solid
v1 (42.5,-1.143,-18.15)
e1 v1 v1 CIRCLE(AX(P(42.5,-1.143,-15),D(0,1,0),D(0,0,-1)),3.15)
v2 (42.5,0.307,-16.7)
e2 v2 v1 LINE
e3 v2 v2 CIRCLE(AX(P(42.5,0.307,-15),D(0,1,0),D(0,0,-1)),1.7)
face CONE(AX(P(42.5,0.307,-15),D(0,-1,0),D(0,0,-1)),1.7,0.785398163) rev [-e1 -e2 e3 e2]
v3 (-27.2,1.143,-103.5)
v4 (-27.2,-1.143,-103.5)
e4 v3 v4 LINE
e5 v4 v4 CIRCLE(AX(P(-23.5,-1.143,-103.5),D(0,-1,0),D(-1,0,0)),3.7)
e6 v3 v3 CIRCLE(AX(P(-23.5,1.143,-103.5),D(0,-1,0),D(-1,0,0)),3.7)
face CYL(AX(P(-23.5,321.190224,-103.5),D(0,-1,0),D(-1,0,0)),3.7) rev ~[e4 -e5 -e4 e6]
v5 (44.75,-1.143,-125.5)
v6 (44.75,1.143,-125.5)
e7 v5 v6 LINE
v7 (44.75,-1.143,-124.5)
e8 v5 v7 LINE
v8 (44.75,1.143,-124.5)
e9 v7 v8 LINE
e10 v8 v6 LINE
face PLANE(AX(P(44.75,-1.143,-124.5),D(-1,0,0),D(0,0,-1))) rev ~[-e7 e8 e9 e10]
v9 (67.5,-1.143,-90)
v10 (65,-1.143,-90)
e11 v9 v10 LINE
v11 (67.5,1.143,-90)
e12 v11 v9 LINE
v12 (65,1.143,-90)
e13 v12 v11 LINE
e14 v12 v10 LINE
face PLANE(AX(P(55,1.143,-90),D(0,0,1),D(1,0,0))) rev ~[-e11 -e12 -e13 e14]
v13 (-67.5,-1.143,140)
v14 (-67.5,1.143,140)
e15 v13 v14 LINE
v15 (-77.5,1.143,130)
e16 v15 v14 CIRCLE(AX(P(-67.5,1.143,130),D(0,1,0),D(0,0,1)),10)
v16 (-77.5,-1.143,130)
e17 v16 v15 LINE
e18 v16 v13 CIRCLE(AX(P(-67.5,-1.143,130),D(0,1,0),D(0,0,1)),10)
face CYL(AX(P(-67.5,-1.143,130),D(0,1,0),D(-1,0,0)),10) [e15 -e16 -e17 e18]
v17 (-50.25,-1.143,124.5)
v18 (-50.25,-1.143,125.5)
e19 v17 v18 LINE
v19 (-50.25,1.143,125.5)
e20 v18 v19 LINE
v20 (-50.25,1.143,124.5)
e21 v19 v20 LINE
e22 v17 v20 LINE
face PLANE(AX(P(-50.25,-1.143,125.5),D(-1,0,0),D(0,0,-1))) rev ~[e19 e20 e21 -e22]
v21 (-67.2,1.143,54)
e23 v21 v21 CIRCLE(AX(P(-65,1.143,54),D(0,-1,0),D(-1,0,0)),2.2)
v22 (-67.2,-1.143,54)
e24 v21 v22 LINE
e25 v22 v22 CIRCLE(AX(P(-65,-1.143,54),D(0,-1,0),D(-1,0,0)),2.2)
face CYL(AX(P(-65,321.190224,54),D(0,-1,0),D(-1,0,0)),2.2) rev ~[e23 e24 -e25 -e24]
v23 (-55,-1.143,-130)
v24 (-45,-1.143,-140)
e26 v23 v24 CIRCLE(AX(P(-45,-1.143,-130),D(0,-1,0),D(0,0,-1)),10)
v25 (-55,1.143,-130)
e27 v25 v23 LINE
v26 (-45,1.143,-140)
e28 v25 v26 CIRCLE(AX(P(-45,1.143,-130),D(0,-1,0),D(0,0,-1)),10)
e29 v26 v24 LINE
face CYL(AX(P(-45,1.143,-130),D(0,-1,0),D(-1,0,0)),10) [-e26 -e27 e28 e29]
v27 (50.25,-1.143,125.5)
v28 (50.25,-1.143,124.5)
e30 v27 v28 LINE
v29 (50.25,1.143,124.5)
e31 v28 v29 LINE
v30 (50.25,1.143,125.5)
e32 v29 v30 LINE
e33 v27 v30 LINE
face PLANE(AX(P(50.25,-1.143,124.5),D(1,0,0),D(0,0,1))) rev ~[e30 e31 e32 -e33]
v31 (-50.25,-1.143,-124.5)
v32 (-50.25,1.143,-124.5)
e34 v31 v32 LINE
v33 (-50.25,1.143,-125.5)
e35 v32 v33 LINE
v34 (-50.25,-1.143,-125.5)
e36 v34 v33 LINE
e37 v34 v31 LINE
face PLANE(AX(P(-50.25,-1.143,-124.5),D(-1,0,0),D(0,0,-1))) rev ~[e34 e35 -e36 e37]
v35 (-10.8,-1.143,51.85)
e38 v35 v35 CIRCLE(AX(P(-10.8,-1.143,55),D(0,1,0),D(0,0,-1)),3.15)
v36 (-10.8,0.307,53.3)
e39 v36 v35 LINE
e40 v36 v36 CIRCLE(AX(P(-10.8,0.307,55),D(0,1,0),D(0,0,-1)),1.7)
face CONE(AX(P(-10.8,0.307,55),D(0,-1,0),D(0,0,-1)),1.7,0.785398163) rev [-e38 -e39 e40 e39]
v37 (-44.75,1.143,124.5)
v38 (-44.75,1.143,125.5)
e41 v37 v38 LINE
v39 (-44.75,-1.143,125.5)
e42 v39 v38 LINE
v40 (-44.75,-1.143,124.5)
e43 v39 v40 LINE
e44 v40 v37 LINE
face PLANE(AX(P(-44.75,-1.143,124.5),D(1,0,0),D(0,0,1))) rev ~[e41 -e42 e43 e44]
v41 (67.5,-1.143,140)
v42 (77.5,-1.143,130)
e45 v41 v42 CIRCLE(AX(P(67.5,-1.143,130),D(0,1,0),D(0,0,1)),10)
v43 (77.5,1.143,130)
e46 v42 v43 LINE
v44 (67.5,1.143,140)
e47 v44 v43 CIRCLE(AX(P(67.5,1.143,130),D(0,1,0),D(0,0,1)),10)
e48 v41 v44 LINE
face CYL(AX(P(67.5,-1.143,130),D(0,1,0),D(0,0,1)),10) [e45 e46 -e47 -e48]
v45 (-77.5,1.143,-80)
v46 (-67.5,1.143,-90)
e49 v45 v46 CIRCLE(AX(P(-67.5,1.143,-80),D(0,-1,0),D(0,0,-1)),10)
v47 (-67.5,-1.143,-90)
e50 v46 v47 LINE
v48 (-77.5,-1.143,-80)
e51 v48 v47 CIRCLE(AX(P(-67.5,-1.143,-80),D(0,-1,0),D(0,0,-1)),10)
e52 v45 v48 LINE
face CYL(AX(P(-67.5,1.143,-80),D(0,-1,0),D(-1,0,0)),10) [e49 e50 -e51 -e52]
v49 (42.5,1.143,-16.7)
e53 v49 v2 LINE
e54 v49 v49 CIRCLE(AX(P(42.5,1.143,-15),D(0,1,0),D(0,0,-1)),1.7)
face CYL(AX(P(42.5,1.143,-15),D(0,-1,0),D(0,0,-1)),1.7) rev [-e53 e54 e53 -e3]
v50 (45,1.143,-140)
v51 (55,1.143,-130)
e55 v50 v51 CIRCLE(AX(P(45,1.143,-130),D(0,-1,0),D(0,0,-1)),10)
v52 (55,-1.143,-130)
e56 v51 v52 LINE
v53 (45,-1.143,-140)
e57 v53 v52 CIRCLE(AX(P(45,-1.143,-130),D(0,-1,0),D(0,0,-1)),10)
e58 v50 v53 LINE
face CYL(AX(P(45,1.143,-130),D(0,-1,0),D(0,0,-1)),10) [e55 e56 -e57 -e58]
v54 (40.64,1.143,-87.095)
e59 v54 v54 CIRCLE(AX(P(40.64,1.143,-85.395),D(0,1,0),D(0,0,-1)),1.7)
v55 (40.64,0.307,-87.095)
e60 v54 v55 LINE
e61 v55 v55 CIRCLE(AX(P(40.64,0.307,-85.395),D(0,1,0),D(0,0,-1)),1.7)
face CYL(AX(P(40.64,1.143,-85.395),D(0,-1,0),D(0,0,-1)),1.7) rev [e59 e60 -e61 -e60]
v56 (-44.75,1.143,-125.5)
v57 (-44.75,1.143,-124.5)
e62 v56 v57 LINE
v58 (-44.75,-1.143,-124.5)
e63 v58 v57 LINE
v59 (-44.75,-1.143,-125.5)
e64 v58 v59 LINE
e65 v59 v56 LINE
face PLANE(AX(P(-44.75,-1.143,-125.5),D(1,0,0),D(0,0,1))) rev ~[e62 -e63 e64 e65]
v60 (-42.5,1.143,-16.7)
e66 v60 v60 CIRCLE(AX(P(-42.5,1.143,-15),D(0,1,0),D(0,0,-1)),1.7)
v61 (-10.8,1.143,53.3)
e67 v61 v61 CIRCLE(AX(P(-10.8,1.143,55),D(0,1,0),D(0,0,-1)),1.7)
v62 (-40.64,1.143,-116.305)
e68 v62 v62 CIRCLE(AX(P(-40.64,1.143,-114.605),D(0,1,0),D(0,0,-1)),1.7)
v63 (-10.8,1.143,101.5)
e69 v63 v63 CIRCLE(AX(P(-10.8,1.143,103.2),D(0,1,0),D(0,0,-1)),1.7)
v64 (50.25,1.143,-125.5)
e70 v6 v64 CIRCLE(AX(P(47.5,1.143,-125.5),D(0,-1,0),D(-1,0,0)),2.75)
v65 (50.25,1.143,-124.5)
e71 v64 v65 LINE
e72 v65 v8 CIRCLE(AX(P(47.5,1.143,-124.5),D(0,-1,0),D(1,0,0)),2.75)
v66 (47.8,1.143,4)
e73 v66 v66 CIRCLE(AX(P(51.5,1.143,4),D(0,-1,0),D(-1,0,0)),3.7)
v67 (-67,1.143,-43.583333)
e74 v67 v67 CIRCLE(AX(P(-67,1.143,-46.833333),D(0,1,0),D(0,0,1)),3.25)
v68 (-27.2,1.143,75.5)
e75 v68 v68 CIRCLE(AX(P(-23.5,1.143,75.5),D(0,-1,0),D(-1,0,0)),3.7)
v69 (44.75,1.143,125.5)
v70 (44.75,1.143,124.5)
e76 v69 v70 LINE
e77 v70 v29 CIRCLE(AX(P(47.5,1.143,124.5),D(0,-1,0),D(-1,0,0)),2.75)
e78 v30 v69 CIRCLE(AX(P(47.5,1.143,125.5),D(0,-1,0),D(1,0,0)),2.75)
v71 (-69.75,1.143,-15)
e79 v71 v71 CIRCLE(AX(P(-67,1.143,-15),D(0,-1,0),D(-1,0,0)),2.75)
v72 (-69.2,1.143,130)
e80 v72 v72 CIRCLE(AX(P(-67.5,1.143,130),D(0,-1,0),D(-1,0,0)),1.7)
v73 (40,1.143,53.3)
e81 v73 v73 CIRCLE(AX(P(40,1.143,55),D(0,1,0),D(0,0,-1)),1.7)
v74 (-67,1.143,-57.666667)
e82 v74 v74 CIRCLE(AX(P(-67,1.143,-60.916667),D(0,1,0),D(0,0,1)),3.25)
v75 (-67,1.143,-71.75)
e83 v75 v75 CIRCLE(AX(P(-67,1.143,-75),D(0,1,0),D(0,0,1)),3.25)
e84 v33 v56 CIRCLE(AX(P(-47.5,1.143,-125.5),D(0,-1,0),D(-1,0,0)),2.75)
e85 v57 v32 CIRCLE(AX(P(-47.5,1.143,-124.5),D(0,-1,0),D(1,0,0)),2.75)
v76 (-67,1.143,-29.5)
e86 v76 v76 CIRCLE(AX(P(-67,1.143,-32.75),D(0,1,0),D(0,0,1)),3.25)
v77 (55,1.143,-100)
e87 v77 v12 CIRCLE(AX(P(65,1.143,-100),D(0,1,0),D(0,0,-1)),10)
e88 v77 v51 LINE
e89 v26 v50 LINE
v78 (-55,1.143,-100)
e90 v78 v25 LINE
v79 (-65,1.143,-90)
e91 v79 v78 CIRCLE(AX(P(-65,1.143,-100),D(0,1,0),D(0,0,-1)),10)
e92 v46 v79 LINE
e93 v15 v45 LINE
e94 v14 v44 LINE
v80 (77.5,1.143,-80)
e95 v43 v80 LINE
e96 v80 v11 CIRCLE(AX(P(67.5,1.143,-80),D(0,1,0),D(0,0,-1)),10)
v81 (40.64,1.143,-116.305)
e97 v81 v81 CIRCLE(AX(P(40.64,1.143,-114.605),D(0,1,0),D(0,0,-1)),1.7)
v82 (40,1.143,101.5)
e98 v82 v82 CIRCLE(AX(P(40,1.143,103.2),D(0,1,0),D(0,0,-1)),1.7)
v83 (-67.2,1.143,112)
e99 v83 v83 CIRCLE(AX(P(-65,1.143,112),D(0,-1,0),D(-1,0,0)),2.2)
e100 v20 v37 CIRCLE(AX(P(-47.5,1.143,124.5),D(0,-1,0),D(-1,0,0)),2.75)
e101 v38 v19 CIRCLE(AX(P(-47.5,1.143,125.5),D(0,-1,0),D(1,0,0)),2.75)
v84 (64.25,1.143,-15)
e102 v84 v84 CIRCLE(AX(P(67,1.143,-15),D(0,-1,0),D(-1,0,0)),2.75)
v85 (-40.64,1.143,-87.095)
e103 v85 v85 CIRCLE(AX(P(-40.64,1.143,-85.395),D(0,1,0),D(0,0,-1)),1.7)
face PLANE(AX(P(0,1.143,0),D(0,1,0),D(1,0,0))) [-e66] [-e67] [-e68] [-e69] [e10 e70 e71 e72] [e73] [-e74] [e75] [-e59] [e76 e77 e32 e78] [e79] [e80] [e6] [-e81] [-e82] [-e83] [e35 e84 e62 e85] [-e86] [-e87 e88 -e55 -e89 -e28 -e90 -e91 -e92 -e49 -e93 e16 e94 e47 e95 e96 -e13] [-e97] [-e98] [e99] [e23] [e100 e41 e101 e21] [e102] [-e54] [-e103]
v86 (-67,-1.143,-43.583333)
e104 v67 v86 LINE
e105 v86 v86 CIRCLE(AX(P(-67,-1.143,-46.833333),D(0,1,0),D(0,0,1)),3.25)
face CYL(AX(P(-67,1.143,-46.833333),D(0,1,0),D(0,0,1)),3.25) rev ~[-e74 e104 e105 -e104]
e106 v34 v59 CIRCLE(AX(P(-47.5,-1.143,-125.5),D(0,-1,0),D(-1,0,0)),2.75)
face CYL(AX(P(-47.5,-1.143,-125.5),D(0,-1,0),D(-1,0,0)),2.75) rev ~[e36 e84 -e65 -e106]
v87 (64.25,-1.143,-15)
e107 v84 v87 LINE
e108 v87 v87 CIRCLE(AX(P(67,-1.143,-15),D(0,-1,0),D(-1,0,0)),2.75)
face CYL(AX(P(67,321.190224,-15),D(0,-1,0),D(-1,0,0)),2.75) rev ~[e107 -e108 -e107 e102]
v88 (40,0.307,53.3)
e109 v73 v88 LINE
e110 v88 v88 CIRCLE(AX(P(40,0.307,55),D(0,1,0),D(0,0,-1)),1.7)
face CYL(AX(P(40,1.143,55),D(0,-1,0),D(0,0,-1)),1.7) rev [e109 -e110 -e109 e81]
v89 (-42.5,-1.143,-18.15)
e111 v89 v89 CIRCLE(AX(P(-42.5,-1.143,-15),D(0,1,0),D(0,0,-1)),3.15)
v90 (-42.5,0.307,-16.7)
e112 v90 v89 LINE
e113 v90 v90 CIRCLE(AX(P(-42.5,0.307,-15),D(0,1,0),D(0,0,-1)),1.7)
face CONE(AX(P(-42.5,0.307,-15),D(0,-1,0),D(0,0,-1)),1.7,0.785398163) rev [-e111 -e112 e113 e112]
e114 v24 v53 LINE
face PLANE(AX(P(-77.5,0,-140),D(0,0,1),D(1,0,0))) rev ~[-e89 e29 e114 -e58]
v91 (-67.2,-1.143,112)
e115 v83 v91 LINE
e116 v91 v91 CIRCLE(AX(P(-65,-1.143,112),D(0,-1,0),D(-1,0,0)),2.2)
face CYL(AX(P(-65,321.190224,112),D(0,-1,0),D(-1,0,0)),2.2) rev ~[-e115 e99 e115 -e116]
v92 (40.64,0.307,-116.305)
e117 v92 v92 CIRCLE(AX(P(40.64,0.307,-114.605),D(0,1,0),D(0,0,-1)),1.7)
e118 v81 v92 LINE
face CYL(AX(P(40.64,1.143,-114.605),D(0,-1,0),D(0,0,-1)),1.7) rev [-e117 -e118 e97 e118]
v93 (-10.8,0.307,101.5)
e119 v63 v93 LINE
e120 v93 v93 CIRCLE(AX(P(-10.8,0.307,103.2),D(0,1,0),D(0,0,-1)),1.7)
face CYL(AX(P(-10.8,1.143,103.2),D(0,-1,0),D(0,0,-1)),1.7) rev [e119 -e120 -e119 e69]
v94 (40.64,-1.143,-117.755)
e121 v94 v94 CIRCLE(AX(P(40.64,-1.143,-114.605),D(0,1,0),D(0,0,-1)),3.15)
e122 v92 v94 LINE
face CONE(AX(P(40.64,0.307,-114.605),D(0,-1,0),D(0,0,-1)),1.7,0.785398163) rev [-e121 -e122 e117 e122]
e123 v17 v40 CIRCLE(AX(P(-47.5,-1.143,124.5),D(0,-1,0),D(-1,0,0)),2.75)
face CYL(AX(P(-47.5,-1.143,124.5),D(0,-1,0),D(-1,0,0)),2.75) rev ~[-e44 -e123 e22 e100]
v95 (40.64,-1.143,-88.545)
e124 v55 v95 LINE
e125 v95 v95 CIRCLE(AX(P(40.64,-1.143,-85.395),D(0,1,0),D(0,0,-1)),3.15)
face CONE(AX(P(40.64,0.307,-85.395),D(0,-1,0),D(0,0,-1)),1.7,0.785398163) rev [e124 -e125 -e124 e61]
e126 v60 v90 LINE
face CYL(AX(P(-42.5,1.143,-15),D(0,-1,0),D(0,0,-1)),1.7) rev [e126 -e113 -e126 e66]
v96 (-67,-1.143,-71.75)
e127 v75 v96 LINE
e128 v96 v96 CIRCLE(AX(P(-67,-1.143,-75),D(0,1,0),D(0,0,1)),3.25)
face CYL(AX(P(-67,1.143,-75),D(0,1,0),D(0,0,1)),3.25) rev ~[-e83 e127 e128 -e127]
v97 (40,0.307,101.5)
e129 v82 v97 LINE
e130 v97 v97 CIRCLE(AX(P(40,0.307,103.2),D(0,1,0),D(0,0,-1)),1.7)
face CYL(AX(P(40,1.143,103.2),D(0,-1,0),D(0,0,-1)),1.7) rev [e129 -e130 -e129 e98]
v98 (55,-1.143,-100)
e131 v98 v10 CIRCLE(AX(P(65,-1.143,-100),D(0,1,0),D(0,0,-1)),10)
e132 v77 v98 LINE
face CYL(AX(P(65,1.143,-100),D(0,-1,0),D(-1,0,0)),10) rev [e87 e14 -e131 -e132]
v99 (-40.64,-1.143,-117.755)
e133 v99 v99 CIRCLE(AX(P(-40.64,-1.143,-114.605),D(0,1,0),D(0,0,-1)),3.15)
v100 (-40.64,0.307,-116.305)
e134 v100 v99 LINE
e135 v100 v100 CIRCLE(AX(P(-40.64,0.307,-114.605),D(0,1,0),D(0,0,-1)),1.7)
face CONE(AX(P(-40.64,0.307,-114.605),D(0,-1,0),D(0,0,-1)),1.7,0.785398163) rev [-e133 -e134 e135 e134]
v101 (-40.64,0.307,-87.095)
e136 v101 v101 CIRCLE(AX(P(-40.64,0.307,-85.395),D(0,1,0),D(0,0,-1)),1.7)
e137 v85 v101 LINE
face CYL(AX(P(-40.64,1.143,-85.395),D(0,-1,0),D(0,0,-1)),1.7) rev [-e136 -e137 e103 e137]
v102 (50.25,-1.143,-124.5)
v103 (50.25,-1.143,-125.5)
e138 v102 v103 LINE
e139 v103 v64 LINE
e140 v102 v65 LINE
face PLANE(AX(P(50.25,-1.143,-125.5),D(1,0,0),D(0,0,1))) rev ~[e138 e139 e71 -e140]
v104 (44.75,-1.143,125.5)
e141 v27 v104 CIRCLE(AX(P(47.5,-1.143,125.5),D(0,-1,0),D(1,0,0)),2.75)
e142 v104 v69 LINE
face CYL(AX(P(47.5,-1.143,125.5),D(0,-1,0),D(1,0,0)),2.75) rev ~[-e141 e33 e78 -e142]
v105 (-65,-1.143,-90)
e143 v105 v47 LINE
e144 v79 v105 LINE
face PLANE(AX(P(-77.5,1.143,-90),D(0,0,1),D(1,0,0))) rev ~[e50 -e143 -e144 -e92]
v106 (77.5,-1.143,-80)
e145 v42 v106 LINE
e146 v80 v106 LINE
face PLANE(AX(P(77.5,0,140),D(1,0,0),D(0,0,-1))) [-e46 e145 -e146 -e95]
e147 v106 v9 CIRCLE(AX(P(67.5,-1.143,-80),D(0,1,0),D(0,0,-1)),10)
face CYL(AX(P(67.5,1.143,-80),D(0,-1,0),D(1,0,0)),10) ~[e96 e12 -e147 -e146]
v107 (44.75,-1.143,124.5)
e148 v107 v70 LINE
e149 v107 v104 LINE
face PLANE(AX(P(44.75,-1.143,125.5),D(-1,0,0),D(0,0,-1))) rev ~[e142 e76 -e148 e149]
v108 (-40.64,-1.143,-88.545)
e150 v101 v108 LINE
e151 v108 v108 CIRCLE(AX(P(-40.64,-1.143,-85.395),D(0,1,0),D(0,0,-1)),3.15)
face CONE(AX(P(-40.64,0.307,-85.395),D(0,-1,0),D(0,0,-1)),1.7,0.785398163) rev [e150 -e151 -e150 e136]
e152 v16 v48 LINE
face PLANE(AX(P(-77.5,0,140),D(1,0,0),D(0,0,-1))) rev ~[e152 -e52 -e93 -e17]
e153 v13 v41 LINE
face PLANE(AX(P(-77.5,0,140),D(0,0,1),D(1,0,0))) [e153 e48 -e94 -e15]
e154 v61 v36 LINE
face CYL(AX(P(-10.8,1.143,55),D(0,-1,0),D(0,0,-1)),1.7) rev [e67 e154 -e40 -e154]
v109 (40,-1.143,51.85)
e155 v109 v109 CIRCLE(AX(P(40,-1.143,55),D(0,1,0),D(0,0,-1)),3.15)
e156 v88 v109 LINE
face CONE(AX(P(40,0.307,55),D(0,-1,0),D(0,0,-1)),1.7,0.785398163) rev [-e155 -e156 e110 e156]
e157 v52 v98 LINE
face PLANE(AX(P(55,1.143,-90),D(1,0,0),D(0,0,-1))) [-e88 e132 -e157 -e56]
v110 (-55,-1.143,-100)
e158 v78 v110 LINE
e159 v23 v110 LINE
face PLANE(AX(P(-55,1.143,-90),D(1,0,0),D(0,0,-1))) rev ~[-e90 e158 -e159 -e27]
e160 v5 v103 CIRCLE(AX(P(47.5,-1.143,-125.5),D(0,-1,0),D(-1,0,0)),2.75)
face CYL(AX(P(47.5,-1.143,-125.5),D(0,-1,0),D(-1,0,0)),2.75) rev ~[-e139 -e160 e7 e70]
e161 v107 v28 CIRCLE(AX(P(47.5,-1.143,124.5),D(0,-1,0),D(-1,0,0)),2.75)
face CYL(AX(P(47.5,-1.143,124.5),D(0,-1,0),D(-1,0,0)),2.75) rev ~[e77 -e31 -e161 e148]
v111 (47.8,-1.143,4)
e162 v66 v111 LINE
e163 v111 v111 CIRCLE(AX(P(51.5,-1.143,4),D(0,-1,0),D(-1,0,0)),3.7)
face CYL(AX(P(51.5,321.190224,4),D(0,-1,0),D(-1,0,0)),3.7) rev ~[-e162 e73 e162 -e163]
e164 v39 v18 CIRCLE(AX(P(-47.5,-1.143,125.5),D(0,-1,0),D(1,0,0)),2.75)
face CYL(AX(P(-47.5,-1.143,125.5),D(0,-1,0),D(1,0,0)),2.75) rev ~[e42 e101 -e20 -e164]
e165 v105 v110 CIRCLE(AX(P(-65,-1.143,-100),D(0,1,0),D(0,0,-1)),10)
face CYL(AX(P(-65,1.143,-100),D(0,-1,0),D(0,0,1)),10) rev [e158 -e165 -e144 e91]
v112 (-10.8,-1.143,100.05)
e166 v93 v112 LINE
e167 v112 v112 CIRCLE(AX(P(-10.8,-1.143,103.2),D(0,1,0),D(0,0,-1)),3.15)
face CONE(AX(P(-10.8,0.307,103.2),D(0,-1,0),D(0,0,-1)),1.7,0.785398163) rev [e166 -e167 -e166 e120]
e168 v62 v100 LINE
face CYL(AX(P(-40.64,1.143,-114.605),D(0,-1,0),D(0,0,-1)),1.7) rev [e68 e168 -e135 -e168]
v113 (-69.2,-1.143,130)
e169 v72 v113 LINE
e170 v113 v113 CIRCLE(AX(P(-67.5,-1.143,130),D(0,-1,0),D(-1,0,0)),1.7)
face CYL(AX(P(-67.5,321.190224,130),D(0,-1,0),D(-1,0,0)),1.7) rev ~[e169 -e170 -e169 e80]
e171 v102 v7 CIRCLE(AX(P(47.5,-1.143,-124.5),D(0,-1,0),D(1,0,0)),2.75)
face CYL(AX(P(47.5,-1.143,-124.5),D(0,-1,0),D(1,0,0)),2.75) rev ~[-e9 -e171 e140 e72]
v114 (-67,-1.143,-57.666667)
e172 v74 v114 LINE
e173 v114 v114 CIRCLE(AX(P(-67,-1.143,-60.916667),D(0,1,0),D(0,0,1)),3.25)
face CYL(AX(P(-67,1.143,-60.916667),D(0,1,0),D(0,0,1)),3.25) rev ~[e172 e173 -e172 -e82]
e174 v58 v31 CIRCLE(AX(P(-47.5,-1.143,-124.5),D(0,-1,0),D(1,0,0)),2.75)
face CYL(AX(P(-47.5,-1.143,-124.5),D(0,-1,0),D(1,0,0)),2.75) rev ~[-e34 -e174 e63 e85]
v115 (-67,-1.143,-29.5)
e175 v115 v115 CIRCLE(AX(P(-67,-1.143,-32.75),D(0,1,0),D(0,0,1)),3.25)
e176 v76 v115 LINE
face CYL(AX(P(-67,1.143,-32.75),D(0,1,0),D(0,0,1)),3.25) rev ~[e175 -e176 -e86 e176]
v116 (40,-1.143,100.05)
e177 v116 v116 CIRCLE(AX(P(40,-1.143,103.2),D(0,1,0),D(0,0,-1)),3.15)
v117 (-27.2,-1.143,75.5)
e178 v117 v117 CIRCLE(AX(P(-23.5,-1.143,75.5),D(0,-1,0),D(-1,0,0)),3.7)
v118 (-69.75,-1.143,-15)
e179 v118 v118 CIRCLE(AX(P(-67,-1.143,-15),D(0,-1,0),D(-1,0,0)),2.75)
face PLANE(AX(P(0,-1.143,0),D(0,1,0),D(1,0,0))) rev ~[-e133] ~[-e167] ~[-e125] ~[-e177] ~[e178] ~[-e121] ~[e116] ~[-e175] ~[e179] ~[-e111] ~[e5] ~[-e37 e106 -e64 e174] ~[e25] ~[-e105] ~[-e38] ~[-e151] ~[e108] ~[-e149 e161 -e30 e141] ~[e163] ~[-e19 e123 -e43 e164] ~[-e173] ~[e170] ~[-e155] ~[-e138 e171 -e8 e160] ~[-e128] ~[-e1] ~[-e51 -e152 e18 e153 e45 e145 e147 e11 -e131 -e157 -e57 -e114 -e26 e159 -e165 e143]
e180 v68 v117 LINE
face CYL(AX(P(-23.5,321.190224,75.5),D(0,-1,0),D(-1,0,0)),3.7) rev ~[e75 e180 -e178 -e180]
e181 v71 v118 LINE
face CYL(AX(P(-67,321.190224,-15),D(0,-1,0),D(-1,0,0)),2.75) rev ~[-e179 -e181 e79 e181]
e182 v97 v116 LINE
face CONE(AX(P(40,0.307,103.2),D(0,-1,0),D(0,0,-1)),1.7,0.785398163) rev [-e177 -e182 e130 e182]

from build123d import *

# Parameters (mm, degrees)
SKETCH1_W                            = 155
SKETCH1_H                            = 280
BOSS_EXTRUDE1_DEPTH                  = 1.143
M5_CLEARANCE_HOLE1_D                 = 5.5
TOP_SIDE_M3_FLAT_HEAD_AT_2_COUNT     = 2
TOP_SIDE_M3_FLAT_HEAD_AT_2_PITCH     = 85
TOP_SIDE_M3_FLAT_HEAD_AT_3_COUNT     = 2
TOP_SIDE_M3_FLAT_HEAD_AT_3_PITCH     = 87.982327771
TOP_SIDE_M3_FLAT_HEAD_AT_4_COUNT     = 2
TOP_SIDE_M3_FLAT_HEAD_AT_4_PITCH     = 118.226435284
TOP_SIDE_M3_FLAT_HEAD_AT_5_COUNT     = 2
TOP_SIDE_M3_FLAT_HEAD_AT_5_PITCH     = 70.044628631
TOP_SIDE_M3_FLAT_HEAD_AT_6_COUNT     = 2
TOP_SIDE_M3_FLAT_HEAD_AT_6_PITCH     = 129.661598016
TOP_SIDE_M3_FLAT_HEAD_AT_7_COUNT     = 2
TOP_SIDE_M3_FLAT_HEAD_AT_7_PITCH     = 129.743653506
TOP_SIDE_M3_FLAT_HEAD_AT_8_COUNT     = 2
TOP_SIDE_M3_FLAT_HEAD_AT_8_PITCH     = 70.419568481
TOP_SIDE_M3_FLAT_HEAD_AT_9_COUNT     = 2
TOP_SIDE_M3_FLAT_HEAD_AT_9_PITCH     = 99.622365084
TOP_SIDE_M3_FLAT_HEAD_AT_10_COUNT    = 2
TOP_SIDE_M3_FLAT_HEAD_AT_10_PITCH    = 108.939045457
ROUTER_M3_MOUNTING_D                 = 7.4
CUT_EXTRUDE1_REACH                   = 162.036
SKETCH10_W                           = 22.5
SKETCH10_H                           = 50
FILLET1_R                            = 10
POWER_TERMINAL_BLOCKS_M2_5_INSERTS_D = 4.4
M3_GROUNDING_WIRE_HOLE_D             = 3.4
CUT_EXTRUDE2_START                   = -2.286
CUT_EXTRUDE2_DEPTH                   = 2.286
CUT_EXTRUDE3_REACH                   = 162.036
SKETCH17_R                           = 3.25


with BuildPart() as part:
    # Sketch1 → Boss-Extrude1 (new, symmetric)
    with BuildSketch(Plane(origin=(0, 0, 0), x_dir=(1, 0, 0), z_dir=(0, 1, 0))):
        Rectangle(SKETCH1_W, SKETCH1_H)
    extrude(amount=BOSS_EXTRUDE1_DEPTH, both=True)

    # M5 Clearance Hole1 (through all)
    with Locations(Plane(origin=(0, 1.143, 0), x_dir=(1, 0, 0), z_dir=(0, 1, 0))):
        with Locations((47.5, -125), (-47.5, 125), (-47.5, -125), (47.5, 125), (67, 15), (-67, 15)):
            Hole(M5_CLEARANCE_HOLE1_D / 2)

    # Sketch7 → Top Side M3 Flat Head (revolve, cut)
    with BuildSketch(Plane(origin=(42.5, -1.143, -15), x_dir=(0, 0, -1), z_dir=(1, 0, 0))):
        Polygon((0, 0), (0, 2.286), (1.7, 2.286), (1.7, 1.45), (3.15, 0), align=None)
    top_side_m3_flat_head = revolve(axis=Axis((42.5, -7.493, -15), (0, 1, 0)), mode=Mode.SUBTRACT)

    # Top Side M3 Flat Head at 2: Top Side M3 Flat Head ×2
    with Locations(*[(-i * TOP_SIDE_M3_FLAT_HEAD_AT_2_PITCH, 0, 0) for i in range(1, TOP_SIDE_M3_FLAT_HEAD_AT_2_COUNT)]):
        add(top_side_m3_flat_head, mode=Mode.SUBTRACT)

    # Top Side M3 Flat Head at 3: Top Side M3 Flat Head ×2
    with Locations(*[Vector(-0.6058034761110396, 0, 0.7956143213465814) * (i * TOP_SIDE_M3_FLAT_HEAD_AT_3_PITCH) for i in range(1, TOP_SIDE_M3_FLAT_HEAD_AT_3_COUNT)]):
        add(top_side_m3_flat_head, mode=Mode.SUBTRACT)

    # Top Side M3 Flat Head at 4: Top Side M3 Flat Head ×2
    with Locations(*[Vector(-0.021145862970418993, 0, 0.9997764012414158) * (i * TOP_SIDE_M3_FLAT_HEAD_AT_4_PITCH) for i in range(1, TOP_SIDE_M3_FLAT_HEAD_AT_4_COUNT)]):
        add(top_side_m3_flat_head, mode=Mode.SUBTRACT)

    # Top Side M3 Flat Head at 5: Top Side M3 Flat Head ×2
    with Locations(*[Vector(-0.035691530512412285, 0, 0.9993628543475496) * (i * TOP_SIDE_M3_FLAT_HEAD_AT_5_PITCH) for i in range(1, TOP_SIDE_M3_FLAT_HEAD_AT_5_COUNT)]):
        add(top_side_m3_flat_head, mode=Mode.SUBTRACT)

    # Top Side M3 Flat Head at 6: Top Side M3 Flat Head ×2
    with Locations(*[Vector(-0.4110700532436934, 0, 0.9116037578499921) * (i * TOP_SIDE_M3_FLAT_HEAD_AT_6_PITCH) for i in range(1, TOP_SIDE_M3_FLAT_HEAD_AT_6_COUNT)]):
        add(top_side_m3_flat_head, mode=Mode.SUBTRACT)

    # Top Side M3 Flat Head at 7: Top Side M3 Flat Head ×2
    with Locations(*[Vector(-0.6408020566213286, 0, -0.7677061444523389) * (i * TOP_SIDE_M3_FLAT_HEAD_AT_7_PITCH) for i in range(1, TOP_SIDE_M3_FLAT_HEAD_AT_7_COUNT)]):
        add(top_side_m3_flat_head, mode=Mode.SUBTRACT)

    # Top Side M3 Flat Head at 8: Top Side M3 Flat Head ×2
    with Locations(*[Vector(-0.026413112720383172, 0, -0.999651112877098) * (i * TOP_SIDE_M3_FLAT_HEAD_AT_8_PITCH) for i in range(1, TOP_SIDE_M3_FLAT_HEAD_AT_8_COUNT)]):
        add(top_side_m3_flat_head, mode=Mode.SUBTRACT)

    # Top Side M3 Flat Head at 9: Top Side M3 Flat Head ×2
    with Locations(*[Vector(-0.01867050635090894, 0, -0.9998256909044699) * (i * TOP_SIDE_M3_FLAT_HEAD_AT_9_PITCH) for i in range(1, TOP_SIDE_M3_FLAT_HEAD_AT_9_COUNT)]):
        add(top_side_m3_flat_head, mode=Mode.SUBTRACT)

    # Top Side M3 Flat Head at 10: Top Side M3 Flat Head ×2
    with Locations(*[Vector(-0.763179075523523, 0, -0.6461870462049366) * (i * TOP_SIDE_M3_FLAT_HEAD_AT_10_PITCH) for i in range(1, TOP_SIDE_M3_FLAT_HEAD_AT_10_COUNT)]):
        add(top_side_m3_flat_head, mode=Mode.SUBTRACT)

    # Router M3 Mounting (through all)
    with Locations(Plane(origin=(0, 1.143, 0), x_dir=(1, 0, 0), z_dir=(0, 1, 0))):
        with Locations((-23.5, -75.5), (-23.5, 103.5), (51.5, -4)):
            Hole(ROUTER_M3_MOUNTING_D / 2)

    # Sketch10 → Cut-Extrude1 (cut, up to next)
    with BuildSketch(Plane(origin=(0, 1.143, 0), x_dir=(1, 0, 0), z_dir=(0, 1, 0)), mode=Mode.PRIVATE) as cut_extrude1_sk1:
        with Locations((-66.25, 115)):
            Rectangle(SKETCH10_W, SKETCH10_H)
    cut_extrude1_tool1 = extrude(cut_extrude1_sk1.sketch, amount=-CUT_EXTRUDE1_REACH, mode=Mode.PRIVATE) & part.part
    # Sketch10 → Cut-Extrude1 (cut, up to next)
    with BuildSketch(Plane(origin=(0, 1.143, 0), x_dir=(1, 0, 0), z_dir=(0, 1, 0)), mode=Mode.PRIVATE) as cut_extrude1_sk2:
        with Locations((66.25, 115)):
            Rectangle(SKETCH10_W, SKETCH10_H)
    cut_extrude1_tool2 = extrude(cut_extrude1_sk2.sketch, amount=-CUT_EXTRUDE1_REACH, mode=Mode.PRIVATE) & part.part
    add(cut_extrude1_tool1.solids().sort_by_distance((-66.25, 1.143, -115))[0], mode=Mode.SUBTRACT)
    add(cut_extrude1_tool2.solids().sort_by_distance((66.25, 1.143, -115))[0], mode=Mode.SUBTRACT)

    # Fillet1
    fillet1_edges = [part.edges().sort_by_distance(p)[0] for p in [
        (-77.5, 0, -90),
        (-55, 0, -140),
        (-55, 0, -90),
        (77.5, 0, -90),
        (55, 0, -90),
        (55, 0, -140),
        (77.5, 0, 140),
        (-77.5, 0, 140),
    ]]
    fillet(fillet1_edges, radius=FILLET1_R)

    # Power Terminal Blocks M2.5 Inserts (through all)
    with Locations(Plane(origin=(0, 1.143, 0), x_dir=(1, 0, 0), z_dir=(0, 1, 0))):
        with Locations((-65, -112), (-65, -54)):
            Hole(POWER_TERMINAL_BLOCKS_M2_5_INSERTS_D / 2)

    # M3 grounding wire hole (through all)
    with Locations(Plane(origin=(0, 1.143, 0), x_dir=(1, 0, 0), z_dir=(0, 1, 0))):
        with Locations((-67.5, -130)):
            Hole(M3_GROUNDING_WIRE_HOLE_D / 2)

    # Sketch15 → Cut-Extrude2 (cut)
    with BuildSketch(Plane(origin=(0, 1.143, 0), x_dir=(1, 0, 0), z_dir=(0, 1, 0)).offset(CUT_EXTRUDE2_START)):
        with BuildLine():
            Line((44.75, 124.5), (44.75, 125.5))
            ThreePointArc((44.75, 125.5), (47.5, 128.25), (50.25, 125.5))
            Line((50.25, 125.5), (50.25, 124.5))
            ThreePointArc((50.25, 124.5), (47.5, 121.75), (44.75, 124.5))
        make_face()
        with BuildLine():
            Line((-44.75, 125.5), (-44.75, 124.5))
            ThreePointArc((-44.75, 124.5), (-47.5, 121.75), (-50.25, 124.5))
            Line((-50.25, 124.5), (-50.25, 125.5))
            ThreePointArc((-50.25, 125.5), (-47.5, 128.25), (-44.75, 125.5))
        make_face()
        with BuildLine():
            Line((-44.75, -124.5), (-44.75, -125.5))
            ThreePointArc((-44.75, -125.5), (-47.5, -128.25), (-50.25, -125.5))
            Line((-50.25, -125.5), (-50.25, -124.5))
            ThreePointArc((-50.25, -124.5), (-47.5, -121.75), (-44.75, -124.5))
        make_face()
        with BuildLine():
            Line((50.25, -124.5), (50.25, -125.5))
            ThreePointArc((50.25, -125.5), (47.5, -128.25), (44.75, -125.5))
            Line((44.75, -125.5), (44.75, -124.5))
            ThreePointArc((44.75, -124.5), (47.5, -121.75), (50.25, -124.5))
        make_face()
    extrude(amount=CUT_EXTRUDE2_DEPTH, mode=Mode.SUBTRACT)

    # Sketch17 → Cut-Extrude3 (cut, up to next)
    with BuildSketch(Plane(origin=(0, 1.143, 0), x_dir=(1, 0, 0), z_dir=(0, 1, 0)), mode=Mode.PRIVATE) as cut_extrude3_sk1:
        with Locations(Location((-67, 32.75, 0), (0, 0, 270))):
            Circle(SKETCH17_R)
    cut_extrude3_tool1 = extrude(cut_extrude3_sk1.sketch, amount=-CUT_EXTRUDE3_REACH, mode=Mode.PRIVATE) & part.part
    # Sketch17 → Cut-Extrude3 (cut, up to next)
    with BuildSketch(Plane(origin=(0, 1.143, 0), x_dir=(1, 0, 0), z_dir=(0, 1, 0)), mode=Mode.PRIVATE) as cut_extrude3_sk2:
        with Locations(Location((-67, 46.833333333, 0), (0, 0, 270))):
            Circle(SKETCH17_R)
    cut_extrude3_tool2 = extrude(cut_extrude3_sk2.sketch, amount=-CUT_EXTRUDE3_REACH, mode=Mode.PRIVATE) & part.part
    # Sketch17 → Cut-Extrude3 (cut, up to next)
    with BuildSketch(Plane(origin=(0, 1.143, 0), x_dir=(1, 0, 0), z_dir=(0, 1, 0)), mode=Mode.PRIVATE) as cut_extrude3_sk3:
        with Locations(Location((-67, 60.916666667, 0), (0, 0, 270))):
            Circle(SKETCH17_R)
    cut_extrude3_tool3 = extrude(cut_extrude3_sk3.sketch, amount=-CUT_EXTRUDE3_REACH, mode=Mode.PRIVATE) & part.part
    # Sketch17 → Cut-Extrude3 (cut, up to next)
    with BuildSketch(Plane(origin=(0, 1.143, 0), x_dir=(1, 0, 0), z_dir=(0, 1, 0)), mode=Mode.PRIVATE) as cut_extrude3_sk4:
        with Locations(Location((-67, 75, 0), (0, 0, 270))):
            Circle(SKETCH17_R)
    cut_extrude3_tool4 = extrude(cut_extrude3_sk4.sketch, amount=-CUT_EXTRUDE3_REACH, mode=Mode.PRIVATE) & part.part
    add(cut_extrude3_tool1.solids().sort_by_distance((-67, 1.143, -32.75))[0], mode=Mode.SUBTRACT)
    add(cut_extrude3_tool2.solids().sort_by_distance((-67, 1.143, -46.833333))[0], mode=Mode.SUBTRACT)
    add(cut_extrude3_tool3.solids().sort_by_distance((-67, 1.143, -60.916667))[0], mode=Mode.SUBTRACT)
    add(cut_extrude3_tool4.solids().sort_by_distance((-67, 1.143, -75))[0], mode=Mode.SUBTRACT)


solid = part.part
